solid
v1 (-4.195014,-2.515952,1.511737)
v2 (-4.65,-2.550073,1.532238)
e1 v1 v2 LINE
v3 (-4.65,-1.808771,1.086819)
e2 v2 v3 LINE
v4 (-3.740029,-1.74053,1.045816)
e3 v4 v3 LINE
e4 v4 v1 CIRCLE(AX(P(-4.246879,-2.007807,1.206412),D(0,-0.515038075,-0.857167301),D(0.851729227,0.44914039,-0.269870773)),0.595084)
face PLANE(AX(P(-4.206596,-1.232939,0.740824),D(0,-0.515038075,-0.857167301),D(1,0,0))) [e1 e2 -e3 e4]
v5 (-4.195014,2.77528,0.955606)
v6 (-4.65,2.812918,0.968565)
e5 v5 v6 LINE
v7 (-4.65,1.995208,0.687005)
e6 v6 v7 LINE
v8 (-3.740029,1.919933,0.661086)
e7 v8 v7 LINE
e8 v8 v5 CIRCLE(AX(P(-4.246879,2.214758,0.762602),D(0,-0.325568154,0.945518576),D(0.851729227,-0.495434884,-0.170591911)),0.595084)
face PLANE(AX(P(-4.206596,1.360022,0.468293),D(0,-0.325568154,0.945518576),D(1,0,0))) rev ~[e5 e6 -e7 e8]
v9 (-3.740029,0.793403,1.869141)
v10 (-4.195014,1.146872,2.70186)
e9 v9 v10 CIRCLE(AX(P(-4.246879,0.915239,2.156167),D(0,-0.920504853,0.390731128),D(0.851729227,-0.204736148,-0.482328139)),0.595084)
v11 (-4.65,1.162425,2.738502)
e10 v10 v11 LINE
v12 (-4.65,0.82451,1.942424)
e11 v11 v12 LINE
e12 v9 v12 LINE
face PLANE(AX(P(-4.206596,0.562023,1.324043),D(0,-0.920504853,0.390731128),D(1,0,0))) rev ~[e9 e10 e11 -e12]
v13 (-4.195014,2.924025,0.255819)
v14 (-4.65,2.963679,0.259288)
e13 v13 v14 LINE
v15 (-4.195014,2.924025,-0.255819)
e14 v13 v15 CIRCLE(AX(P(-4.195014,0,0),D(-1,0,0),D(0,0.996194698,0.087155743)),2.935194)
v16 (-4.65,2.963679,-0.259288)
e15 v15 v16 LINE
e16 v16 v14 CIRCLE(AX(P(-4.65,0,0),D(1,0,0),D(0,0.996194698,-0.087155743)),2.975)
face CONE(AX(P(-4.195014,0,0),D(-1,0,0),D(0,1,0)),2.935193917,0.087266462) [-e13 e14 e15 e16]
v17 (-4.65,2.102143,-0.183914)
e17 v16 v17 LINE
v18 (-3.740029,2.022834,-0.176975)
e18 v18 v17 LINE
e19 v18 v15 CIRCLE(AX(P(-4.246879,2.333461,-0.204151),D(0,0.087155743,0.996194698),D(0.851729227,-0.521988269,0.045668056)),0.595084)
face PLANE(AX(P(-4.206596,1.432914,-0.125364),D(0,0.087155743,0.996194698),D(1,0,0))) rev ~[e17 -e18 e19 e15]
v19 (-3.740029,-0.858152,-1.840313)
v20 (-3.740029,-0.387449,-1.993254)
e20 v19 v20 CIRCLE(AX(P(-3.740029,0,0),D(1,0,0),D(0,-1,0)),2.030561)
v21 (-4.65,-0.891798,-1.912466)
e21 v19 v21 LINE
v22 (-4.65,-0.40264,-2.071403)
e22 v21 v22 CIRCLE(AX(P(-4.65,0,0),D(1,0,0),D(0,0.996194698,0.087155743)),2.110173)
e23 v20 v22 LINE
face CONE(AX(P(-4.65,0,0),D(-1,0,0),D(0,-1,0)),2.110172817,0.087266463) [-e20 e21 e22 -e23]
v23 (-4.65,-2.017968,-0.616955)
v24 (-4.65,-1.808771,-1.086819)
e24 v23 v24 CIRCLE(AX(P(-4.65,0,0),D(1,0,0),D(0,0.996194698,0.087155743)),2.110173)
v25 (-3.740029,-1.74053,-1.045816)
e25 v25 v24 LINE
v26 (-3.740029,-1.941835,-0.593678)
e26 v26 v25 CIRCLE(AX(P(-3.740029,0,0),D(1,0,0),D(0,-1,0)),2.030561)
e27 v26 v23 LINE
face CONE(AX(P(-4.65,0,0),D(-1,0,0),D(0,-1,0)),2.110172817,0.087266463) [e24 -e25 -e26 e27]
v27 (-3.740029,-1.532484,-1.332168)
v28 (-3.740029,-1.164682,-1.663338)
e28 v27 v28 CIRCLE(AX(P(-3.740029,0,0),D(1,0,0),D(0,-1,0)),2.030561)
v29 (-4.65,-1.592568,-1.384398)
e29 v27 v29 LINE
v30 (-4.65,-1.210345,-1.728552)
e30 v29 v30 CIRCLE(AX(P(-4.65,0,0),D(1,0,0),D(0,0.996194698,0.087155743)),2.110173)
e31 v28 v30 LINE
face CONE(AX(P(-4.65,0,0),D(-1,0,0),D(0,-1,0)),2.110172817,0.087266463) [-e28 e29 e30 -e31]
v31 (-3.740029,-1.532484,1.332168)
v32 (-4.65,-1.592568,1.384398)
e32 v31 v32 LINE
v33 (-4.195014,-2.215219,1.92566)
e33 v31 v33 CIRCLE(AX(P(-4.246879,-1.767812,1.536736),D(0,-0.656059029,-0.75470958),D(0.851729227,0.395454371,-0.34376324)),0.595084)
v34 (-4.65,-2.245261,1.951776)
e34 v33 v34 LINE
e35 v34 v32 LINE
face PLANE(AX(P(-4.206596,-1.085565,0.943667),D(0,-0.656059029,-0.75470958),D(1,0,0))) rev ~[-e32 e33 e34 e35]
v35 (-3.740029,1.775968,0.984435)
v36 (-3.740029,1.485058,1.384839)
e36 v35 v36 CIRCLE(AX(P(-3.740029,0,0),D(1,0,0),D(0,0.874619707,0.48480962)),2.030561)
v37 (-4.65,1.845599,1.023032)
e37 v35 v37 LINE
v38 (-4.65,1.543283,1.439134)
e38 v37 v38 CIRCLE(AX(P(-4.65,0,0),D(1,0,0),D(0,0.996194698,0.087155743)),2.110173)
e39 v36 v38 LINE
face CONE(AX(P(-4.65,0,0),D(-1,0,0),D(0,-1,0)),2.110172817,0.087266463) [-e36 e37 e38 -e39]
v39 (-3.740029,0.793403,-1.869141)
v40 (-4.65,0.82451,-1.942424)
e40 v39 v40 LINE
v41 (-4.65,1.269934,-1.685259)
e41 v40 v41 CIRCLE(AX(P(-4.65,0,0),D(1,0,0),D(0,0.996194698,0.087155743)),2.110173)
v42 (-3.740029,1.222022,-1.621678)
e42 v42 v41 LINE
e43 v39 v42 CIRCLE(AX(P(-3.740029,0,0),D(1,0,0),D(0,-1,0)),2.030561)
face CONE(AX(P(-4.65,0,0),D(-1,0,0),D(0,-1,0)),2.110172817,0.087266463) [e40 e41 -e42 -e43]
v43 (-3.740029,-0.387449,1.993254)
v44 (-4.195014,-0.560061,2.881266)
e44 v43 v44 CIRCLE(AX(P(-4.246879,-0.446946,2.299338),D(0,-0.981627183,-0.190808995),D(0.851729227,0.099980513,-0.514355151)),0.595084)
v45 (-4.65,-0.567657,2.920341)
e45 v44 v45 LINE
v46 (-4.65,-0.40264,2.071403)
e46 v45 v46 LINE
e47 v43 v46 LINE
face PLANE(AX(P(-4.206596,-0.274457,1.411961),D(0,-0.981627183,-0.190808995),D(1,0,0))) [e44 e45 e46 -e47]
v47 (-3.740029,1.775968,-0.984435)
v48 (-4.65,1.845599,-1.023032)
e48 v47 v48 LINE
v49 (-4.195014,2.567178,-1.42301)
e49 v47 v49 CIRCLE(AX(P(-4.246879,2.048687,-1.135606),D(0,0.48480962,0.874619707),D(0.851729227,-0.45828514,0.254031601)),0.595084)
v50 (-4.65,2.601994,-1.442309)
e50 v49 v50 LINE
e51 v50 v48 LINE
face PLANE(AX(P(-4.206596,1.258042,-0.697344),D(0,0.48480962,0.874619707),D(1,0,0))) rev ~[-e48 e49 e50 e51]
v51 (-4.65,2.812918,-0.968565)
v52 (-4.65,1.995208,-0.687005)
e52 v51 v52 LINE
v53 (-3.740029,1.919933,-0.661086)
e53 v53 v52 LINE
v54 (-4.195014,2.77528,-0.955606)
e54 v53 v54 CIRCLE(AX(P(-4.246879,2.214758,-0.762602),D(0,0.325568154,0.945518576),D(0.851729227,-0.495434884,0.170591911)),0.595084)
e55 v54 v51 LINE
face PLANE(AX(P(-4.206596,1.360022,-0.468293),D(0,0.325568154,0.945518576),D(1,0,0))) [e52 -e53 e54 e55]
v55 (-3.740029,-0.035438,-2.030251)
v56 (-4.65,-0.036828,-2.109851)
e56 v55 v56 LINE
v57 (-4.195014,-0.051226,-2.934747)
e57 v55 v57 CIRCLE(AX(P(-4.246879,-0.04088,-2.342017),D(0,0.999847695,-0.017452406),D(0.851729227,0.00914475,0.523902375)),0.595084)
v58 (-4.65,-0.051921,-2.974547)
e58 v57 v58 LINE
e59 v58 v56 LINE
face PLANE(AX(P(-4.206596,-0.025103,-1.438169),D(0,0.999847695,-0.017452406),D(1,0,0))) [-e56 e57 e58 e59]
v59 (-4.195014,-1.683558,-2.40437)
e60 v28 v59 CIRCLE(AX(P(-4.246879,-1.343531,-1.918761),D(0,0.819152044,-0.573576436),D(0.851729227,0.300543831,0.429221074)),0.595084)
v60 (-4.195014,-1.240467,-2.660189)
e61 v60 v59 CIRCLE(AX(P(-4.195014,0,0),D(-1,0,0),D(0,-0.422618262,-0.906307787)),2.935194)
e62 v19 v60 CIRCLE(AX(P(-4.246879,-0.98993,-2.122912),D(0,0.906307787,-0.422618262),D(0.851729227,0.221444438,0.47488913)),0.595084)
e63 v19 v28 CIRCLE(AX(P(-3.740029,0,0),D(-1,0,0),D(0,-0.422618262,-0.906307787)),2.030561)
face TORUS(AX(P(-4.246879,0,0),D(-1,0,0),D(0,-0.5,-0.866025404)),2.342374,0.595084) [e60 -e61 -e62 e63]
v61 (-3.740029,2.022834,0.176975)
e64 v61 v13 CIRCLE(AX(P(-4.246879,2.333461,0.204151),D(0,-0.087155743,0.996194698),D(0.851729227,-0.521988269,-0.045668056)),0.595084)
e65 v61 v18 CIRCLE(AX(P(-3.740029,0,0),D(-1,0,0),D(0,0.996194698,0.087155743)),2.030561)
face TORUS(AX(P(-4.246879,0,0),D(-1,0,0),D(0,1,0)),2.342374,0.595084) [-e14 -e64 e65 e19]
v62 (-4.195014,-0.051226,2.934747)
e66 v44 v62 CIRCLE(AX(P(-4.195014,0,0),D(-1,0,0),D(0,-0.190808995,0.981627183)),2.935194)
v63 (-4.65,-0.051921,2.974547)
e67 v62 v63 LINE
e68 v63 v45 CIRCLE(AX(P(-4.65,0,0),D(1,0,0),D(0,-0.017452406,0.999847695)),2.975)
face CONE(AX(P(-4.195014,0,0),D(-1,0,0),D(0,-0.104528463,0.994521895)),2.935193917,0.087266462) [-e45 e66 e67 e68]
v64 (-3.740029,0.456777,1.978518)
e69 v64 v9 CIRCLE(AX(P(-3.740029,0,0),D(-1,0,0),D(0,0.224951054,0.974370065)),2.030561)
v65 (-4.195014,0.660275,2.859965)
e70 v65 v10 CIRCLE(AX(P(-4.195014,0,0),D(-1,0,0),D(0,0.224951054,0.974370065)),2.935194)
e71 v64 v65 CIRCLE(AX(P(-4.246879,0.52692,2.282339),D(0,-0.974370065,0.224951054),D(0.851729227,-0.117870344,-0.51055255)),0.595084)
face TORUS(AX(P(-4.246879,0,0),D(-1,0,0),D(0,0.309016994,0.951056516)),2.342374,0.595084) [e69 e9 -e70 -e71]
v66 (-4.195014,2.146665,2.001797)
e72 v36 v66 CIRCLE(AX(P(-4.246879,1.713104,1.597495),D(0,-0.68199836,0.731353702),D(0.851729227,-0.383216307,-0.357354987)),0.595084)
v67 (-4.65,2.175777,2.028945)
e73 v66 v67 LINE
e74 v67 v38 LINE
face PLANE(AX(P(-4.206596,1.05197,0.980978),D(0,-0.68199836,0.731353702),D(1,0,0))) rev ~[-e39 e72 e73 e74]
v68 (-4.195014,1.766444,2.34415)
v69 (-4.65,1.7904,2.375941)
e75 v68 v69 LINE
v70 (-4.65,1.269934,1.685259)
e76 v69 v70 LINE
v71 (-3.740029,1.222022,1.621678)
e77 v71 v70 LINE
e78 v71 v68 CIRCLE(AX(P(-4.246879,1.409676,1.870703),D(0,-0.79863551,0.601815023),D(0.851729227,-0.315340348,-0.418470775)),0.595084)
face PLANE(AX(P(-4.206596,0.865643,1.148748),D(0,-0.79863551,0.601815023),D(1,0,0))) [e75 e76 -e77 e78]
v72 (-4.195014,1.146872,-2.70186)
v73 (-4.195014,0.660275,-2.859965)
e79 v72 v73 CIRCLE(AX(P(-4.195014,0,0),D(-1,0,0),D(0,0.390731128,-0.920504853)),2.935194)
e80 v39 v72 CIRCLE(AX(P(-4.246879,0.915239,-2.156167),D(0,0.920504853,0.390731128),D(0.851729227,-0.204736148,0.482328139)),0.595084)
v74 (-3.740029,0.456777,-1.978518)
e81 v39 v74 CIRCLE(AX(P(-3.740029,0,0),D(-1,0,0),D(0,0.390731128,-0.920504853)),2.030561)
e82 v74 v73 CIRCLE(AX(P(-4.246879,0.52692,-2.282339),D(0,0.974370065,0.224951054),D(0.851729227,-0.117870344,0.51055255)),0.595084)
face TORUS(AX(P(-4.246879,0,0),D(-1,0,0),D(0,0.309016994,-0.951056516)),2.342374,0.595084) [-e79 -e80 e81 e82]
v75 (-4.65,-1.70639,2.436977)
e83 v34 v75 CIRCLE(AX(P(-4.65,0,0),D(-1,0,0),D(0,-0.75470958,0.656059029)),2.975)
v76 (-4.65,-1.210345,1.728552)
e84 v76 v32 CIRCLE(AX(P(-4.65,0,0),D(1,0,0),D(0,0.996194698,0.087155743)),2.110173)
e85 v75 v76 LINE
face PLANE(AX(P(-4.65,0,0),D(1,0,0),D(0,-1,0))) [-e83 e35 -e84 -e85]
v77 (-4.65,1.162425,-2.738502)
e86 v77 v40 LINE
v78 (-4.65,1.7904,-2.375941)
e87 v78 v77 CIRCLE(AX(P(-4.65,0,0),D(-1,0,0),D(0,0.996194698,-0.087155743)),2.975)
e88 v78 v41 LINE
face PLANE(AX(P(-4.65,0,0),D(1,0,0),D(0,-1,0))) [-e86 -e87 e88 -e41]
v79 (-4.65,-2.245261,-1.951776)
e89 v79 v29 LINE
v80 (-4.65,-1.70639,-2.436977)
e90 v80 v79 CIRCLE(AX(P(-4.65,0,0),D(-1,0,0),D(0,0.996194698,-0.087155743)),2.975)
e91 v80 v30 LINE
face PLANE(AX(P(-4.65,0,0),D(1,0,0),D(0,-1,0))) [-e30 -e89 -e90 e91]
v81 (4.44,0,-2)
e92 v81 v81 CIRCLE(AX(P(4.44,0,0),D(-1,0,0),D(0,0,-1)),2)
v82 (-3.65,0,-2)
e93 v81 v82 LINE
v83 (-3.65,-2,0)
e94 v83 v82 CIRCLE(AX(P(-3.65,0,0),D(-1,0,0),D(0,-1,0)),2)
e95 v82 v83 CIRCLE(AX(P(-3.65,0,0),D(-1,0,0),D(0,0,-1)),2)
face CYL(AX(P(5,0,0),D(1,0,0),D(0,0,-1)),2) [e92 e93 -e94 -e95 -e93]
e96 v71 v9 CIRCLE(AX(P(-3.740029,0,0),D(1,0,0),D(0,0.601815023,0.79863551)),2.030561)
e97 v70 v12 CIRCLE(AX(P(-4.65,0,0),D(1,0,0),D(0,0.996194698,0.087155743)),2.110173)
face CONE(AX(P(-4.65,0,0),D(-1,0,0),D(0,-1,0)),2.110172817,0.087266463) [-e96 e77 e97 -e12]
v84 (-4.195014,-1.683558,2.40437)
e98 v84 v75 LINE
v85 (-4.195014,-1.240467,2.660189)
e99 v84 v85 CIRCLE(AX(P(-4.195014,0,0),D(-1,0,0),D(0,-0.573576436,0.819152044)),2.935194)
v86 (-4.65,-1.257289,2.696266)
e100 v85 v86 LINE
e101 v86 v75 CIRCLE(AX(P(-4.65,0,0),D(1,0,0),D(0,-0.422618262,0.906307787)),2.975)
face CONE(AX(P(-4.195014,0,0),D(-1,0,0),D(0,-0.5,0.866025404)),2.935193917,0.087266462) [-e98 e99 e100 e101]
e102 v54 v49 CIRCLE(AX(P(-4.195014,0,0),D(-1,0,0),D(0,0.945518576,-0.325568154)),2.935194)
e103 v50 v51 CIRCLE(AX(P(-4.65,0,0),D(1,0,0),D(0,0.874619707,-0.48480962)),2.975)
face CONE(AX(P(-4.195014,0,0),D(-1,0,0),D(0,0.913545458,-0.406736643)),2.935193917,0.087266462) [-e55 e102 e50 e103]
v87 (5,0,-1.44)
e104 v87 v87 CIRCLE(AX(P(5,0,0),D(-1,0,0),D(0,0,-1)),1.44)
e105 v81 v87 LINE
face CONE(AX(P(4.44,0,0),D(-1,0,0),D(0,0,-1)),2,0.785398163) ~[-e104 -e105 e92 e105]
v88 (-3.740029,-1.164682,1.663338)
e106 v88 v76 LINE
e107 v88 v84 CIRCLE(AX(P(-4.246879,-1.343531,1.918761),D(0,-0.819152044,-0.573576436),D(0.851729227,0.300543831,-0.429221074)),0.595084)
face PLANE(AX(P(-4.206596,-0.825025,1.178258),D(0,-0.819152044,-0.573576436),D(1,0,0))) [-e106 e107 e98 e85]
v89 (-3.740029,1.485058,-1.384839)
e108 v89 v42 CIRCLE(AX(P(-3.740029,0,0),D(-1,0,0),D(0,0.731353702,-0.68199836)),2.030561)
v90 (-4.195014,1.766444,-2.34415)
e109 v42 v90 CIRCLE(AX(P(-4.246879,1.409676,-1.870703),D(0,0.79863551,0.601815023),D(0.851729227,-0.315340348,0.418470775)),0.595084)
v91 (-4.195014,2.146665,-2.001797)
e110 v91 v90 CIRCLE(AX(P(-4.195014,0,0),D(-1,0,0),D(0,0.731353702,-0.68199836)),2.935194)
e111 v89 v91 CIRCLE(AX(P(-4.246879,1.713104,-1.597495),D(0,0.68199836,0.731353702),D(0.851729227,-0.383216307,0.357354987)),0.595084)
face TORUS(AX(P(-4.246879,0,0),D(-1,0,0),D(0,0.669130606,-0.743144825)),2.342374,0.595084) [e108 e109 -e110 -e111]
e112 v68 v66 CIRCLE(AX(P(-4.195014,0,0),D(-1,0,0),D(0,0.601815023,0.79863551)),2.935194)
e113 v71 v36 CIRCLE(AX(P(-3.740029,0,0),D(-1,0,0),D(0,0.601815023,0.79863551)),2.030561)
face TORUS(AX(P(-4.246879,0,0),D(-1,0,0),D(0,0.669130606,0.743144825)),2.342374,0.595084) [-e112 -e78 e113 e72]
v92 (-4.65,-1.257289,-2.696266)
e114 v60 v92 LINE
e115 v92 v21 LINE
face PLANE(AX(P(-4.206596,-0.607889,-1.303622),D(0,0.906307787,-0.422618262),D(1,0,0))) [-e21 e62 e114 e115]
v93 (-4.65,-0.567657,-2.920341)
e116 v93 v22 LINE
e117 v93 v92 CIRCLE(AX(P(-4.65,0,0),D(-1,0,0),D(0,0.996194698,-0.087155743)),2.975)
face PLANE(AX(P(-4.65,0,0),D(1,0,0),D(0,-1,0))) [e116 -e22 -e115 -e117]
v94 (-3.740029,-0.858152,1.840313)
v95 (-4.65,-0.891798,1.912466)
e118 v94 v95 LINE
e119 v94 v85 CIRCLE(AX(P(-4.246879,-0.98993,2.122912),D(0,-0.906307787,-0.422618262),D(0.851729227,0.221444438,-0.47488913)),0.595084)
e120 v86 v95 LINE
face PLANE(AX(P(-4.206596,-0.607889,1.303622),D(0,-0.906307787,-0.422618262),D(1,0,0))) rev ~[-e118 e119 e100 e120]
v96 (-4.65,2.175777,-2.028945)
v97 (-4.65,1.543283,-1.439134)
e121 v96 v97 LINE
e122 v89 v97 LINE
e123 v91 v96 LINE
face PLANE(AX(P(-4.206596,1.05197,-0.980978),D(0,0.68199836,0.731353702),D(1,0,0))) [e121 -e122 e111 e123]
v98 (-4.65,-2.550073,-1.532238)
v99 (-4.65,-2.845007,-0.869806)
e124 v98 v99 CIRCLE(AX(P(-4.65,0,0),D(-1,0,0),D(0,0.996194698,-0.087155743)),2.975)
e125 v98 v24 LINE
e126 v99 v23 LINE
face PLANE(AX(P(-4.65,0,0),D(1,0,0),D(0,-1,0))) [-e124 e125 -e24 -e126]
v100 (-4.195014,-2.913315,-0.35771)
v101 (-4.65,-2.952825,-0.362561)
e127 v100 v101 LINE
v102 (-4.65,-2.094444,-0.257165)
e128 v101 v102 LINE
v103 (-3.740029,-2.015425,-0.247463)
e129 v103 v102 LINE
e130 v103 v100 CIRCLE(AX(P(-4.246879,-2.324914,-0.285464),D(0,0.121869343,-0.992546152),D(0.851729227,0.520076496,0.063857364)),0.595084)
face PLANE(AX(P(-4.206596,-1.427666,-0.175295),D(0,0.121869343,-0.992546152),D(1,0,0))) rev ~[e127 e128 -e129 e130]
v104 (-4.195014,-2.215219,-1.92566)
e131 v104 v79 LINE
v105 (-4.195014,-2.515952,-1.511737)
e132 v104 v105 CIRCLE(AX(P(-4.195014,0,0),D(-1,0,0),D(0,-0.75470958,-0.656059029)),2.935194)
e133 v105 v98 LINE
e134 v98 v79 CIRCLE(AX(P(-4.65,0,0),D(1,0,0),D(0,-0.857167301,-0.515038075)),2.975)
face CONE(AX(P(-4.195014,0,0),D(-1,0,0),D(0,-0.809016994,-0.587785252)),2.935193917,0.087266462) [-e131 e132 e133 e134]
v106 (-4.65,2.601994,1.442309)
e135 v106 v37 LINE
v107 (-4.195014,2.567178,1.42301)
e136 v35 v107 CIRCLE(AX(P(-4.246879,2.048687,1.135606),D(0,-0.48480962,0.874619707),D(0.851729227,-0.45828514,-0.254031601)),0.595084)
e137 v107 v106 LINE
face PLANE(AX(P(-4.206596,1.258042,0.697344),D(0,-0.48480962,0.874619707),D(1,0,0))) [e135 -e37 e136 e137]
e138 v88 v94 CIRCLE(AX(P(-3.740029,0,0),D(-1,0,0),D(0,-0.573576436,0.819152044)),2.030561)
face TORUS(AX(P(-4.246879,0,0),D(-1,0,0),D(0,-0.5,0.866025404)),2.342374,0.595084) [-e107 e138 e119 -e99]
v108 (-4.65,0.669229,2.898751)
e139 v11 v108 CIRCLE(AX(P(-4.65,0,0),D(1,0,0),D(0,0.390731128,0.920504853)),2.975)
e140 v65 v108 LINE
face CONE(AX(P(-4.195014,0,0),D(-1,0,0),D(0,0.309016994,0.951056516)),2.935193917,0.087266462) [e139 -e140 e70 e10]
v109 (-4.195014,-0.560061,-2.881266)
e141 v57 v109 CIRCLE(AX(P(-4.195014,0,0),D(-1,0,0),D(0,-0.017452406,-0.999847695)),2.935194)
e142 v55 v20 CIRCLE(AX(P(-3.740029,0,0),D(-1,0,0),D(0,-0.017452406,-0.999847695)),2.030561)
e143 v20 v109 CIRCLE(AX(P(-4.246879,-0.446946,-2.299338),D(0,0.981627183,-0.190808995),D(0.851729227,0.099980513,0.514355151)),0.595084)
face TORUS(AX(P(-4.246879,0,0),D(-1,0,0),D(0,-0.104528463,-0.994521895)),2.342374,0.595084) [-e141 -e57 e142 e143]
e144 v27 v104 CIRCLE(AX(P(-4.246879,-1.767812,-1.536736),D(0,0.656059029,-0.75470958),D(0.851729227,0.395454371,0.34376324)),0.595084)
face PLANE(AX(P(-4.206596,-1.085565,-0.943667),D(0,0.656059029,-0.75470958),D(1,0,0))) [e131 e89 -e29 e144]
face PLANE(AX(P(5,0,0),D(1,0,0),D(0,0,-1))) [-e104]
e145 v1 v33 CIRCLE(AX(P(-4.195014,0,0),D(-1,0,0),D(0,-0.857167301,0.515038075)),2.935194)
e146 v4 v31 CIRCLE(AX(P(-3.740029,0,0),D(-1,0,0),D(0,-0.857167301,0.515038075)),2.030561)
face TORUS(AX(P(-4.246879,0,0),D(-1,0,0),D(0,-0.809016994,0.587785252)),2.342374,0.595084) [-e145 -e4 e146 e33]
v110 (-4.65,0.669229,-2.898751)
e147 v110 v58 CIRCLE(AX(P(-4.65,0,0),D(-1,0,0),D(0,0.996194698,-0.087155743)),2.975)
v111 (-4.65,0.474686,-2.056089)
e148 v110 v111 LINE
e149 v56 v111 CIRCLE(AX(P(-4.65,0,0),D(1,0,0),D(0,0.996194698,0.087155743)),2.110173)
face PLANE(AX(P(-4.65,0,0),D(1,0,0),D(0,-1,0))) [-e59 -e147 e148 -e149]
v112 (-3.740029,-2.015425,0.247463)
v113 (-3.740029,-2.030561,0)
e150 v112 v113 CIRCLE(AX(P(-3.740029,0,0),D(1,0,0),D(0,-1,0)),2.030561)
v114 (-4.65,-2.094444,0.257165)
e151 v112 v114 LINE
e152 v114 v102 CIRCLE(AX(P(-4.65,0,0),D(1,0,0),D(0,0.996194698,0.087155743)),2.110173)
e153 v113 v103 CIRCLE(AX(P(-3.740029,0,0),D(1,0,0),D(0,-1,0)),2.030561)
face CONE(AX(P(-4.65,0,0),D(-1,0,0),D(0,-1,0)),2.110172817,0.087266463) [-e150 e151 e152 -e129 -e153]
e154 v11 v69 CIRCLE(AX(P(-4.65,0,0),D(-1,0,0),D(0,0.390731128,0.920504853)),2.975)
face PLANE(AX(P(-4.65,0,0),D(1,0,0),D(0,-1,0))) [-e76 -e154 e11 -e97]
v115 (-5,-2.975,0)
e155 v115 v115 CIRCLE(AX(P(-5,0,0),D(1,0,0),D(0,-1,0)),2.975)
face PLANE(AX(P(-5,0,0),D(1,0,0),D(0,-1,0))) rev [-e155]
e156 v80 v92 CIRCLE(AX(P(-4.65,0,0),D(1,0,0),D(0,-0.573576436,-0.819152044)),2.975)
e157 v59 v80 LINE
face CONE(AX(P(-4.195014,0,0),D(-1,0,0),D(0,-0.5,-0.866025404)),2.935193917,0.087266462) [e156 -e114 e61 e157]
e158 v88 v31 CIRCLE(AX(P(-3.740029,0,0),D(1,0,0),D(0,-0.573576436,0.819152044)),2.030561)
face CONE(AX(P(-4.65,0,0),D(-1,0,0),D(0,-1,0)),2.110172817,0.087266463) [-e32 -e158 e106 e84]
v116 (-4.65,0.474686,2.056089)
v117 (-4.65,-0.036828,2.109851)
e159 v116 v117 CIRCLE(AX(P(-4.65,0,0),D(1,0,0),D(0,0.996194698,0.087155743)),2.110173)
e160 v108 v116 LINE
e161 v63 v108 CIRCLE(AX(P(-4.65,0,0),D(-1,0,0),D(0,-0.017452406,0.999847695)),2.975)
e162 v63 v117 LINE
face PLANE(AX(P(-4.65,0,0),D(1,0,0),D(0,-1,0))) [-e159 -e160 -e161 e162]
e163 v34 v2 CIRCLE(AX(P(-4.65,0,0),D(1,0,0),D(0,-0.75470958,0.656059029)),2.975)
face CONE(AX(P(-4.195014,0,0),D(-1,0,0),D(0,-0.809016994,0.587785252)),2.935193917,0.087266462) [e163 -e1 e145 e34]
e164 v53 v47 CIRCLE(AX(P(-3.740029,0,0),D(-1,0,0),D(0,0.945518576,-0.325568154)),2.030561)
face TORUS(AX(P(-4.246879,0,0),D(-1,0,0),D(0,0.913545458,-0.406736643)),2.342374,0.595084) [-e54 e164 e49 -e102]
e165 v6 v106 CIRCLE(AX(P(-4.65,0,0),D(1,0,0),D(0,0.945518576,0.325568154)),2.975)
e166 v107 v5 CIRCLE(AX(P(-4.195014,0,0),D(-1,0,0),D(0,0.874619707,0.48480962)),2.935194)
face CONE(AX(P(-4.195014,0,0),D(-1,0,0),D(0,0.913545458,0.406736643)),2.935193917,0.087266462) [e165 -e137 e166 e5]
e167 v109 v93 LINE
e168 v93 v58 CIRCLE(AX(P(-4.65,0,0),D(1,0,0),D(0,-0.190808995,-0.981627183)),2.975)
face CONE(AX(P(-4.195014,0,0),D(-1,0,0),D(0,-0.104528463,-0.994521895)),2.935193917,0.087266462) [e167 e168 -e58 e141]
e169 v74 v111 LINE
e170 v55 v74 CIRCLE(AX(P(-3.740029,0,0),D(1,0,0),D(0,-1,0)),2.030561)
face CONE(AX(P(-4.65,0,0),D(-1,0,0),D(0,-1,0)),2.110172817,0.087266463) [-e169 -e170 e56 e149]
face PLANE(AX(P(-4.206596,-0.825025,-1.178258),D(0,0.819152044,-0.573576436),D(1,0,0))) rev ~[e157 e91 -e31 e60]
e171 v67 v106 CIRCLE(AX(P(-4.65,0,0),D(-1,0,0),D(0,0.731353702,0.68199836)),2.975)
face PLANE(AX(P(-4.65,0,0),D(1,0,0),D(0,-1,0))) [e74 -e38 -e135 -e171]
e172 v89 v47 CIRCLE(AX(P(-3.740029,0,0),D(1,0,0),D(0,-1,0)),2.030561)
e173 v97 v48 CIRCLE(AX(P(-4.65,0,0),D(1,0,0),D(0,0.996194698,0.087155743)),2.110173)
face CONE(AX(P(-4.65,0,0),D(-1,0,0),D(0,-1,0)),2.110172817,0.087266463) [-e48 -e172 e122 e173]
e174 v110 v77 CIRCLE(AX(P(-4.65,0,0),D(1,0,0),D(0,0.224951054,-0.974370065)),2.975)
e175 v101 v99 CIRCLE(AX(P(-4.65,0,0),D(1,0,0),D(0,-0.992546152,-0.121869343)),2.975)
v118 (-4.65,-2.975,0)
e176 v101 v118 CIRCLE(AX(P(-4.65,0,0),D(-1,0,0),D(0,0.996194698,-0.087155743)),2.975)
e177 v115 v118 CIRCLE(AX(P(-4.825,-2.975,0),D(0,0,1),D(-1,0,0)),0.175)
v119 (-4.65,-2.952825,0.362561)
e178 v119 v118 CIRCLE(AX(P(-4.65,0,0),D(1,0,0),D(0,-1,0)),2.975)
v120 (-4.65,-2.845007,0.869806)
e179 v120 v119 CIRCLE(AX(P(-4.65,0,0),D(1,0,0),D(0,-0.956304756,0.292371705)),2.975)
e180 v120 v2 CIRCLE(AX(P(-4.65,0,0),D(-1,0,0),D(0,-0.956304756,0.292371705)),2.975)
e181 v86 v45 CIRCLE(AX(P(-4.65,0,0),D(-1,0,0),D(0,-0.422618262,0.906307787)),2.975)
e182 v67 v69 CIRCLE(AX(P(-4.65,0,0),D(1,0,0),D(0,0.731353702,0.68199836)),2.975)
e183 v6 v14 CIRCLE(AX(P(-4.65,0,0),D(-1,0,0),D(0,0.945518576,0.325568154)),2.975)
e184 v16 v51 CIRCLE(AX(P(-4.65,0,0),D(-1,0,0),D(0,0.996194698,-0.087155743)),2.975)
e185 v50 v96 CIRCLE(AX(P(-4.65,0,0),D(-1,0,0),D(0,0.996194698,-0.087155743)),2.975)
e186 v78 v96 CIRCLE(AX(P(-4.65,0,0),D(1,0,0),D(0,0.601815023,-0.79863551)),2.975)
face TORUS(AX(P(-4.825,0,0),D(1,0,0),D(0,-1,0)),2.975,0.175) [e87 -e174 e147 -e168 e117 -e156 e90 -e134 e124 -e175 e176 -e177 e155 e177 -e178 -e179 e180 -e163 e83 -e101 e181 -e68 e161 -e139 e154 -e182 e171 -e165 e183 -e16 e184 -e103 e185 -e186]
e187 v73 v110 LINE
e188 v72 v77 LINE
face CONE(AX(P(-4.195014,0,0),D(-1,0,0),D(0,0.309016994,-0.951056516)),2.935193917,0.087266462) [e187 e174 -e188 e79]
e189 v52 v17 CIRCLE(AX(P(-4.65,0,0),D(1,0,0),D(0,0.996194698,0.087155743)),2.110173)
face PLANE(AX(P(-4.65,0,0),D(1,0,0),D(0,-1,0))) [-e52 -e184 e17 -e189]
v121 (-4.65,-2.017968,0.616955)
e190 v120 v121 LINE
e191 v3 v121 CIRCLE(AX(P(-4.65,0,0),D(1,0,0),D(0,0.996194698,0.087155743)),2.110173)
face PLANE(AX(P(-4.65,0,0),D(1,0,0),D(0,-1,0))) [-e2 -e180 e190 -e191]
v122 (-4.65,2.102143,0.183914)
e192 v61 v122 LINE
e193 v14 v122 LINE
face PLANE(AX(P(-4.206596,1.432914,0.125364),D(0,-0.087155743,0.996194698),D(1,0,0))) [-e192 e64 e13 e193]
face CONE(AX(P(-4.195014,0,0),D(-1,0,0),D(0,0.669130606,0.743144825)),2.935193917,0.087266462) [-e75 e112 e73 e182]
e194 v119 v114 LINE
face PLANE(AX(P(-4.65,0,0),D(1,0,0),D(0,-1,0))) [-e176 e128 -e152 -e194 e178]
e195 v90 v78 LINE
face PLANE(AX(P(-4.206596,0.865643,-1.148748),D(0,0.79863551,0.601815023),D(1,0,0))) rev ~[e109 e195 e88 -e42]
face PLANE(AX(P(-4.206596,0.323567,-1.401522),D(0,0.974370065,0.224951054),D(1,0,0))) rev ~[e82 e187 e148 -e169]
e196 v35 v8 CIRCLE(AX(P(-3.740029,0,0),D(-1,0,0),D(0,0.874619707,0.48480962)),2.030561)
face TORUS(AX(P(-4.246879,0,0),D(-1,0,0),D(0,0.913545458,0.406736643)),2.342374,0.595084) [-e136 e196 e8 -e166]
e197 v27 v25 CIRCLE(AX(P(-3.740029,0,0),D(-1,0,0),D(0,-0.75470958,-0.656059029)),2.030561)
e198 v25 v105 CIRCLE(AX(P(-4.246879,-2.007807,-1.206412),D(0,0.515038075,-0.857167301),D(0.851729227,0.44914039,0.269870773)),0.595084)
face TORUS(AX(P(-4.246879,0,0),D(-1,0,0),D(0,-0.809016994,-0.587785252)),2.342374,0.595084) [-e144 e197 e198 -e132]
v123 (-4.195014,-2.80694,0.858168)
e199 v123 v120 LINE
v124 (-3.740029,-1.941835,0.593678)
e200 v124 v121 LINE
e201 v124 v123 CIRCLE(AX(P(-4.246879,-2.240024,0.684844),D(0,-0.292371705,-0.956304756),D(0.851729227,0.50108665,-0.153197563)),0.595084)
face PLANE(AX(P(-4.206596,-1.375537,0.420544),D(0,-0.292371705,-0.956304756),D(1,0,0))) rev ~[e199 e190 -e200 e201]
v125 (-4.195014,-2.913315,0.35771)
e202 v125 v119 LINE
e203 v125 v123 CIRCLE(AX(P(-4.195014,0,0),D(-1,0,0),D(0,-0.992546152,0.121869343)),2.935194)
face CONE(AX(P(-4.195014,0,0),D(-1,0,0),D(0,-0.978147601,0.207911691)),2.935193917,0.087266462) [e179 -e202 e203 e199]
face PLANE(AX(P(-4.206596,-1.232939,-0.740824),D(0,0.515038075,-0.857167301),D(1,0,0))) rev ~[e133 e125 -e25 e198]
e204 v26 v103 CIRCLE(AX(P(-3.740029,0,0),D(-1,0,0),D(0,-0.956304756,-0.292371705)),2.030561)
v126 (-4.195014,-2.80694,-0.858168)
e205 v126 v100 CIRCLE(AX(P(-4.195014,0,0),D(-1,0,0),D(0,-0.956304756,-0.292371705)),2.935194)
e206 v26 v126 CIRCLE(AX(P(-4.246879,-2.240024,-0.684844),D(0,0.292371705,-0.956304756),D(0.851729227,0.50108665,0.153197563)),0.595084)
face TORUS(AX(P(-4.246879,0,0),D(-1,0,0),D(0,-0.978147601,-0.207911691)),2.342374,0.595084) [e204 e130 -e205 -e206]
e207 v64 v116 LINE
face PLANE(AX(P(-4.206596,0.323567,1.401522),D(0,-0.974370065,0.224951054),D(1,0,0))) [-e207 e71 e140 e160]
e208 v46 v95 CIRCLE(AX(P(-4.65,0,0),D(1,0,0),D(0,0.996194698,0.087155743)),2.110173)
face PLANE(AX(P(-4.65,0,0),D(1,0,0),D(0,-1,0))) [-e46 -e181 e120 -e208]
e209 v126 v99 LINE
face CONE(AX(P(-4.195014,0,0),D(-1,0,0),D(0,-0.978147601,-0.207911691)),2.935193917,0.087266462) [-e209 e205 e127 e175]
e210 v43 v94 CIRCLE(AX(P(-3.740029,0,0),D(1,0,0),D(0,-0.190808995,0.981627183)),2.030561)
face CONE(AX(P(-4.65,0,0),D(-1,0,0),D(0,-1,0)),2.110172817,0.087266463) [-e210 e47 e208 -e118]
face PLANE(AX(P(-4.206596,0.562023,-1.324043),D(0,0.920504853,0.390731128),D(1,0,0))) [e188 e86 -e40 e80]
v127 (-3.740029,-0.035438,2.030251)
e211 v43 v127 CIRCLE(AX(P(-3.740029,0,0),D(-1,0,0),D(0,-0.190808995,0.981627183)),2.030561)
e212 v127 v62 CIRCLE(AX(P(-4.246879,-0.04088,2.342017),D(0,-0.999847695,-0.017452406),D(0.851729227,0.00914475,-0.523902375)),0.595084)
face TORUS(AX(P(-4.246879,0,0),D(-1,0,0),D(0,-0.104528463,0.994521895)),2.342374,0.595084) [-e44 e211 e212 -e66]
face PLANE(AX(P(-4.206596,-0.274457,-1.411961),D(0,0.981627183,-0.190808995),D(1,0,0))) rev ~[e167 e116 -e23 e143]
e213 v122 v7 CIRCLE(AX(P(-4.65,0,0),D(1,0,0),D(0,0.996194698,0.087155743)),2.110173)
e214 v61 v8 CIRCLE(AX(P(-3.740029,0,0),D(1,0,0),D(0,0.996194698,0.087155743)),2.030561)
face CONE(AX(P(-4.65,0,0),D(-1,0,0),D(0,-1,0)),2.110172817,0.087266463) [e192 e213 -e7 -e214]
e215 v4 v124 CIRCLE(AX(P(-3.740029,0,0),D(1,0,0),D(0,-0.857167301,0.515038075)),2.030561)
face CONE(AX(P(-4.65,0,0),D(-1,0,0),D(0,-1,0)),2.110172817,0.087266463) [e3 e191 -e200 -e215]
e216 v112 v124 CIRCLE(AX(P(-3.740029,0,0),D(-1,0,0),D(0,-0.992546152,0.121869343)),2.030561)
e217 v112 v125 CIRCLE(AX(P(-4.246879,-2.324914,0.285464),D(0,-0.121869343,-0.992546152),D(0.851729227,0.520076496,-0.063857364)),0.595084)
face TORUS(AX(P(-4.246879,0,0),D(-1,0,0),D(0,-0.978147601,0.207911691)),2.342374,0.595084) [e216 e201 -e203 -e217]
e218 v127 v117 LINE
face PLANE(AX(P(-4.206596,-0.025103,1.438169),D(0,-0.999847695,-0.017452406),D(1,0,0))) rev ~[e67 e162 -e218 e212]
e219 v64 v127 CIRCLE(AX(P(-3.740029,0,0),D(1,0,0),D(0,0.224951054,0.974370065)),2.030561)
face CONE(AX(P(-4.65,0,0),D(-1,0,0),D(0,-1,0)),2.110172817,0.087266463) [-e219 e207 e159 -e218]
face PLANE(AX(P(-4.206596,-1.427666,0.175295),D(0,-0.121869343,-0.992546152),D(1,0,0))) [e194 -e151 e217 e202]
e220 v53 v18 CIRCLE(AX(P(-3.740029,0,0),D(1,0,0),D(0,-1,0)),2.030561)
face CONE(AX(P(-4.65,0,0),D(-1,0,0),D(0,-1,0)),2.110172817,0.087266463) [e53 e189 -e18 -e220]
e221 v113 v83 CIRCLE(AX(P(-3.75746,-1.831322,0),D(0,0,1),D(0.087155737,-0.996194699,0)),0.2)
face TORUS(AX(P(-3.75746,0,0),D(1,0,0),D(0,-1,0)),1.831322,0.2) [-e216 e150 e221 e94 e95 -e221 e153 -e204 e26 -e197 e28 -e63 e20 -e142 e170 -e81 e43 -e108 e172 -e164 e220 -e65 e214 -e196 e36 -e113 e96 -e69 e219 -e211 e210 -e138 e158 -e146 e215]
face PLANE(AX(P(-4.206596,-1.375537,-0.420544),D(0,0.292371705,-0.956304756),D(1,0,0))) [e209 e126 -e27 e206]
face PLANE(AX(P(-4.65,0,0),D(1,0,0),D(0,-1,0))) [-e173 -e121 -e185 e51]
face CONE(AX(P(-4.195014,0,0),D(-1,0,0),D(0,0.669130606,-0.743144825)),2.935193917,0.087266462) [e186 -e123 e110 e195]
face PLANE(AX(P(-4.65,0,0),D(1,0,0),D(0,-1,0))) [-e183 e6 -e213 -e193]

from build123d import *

# Parameters (mm, degrees)
BOSS_EXTRUDE1_START = 5
SKETCH2_R           = 2
BOSS_EXTRUDE1_DEPTH = 10
REVOLVE2_ANGLE      = 10
CIRPATTERN1_COUNT   = 15
CHAMFER1_SIZE       = 0.56


with BuildPart() as part:
    # Sketch2 → Boss-Extrude1 (new body)
    with BuildSketch(Plane(origin=(0, 0, 0), x_dir=(0, 0, -1), z_dir=(1, 0, 0)).offset(BOSS_EXTRUDE1_START)):
        Circle(SKETCH2_R)
    extrude(amount=-BOSS_EXTRUDE1_DEPTH)

    # Sketch5 → Revolve1 (revolve)
    with BuildSketch(Plane.XY, mode=Mode.PRIVATE) as revolve1_sk:
        with BuildLine():
            Line((-5, 0), (-5, 2.975))
            ThreePointArc((-5, 2.975), (-4.825, 3.15), (-4.65, 2.975))
            Line((-4.65, 2.975), (-4.65, 2.110172817))
            Line((-4.65, 2.110172817), (-3.740028773, 2.03056065))
            ThreePointArc((-3.740028773, 2.03056065), (-3.65, 2), (-3.584254841, 1.931321711))
            Line((-3.584254841, 1.931321711), (-2.469205731, 0))
            Line((-2.469205731, 0), (-5, 0))
        make_face()
    revolve(revolve1_sk.sketch.rotate(Axis((-5, 0, 0), (1, 0, 0)), 180), axis=Axis((-5, 0, 0), (1, 0, 0)))

    # Sketch6 → Revolve2 (revolve, symmetric)
    with BuildSketch(Plane.XY) as revolve2_sk:
        with BuildLine():
            Line((-4.65, 2.975), (-4.65, 0))
            Line((-4.65, 0), (-3.740028773, 0))
            Line((-3.740028773, 0), (-3.740028773, 2.03056065))
            ThreePointArc((-3.740028773, 2.03056065), (-3.715248765, 2.609757983), (-4.195014387, 2.935193917))
            Line((-4.195014387, 2.935193917), (-4.65, 2.975))
        make_face()
    revolve(axis=Axis((-4.65, 0, 0), (1, 0, 0)), revolution_arc=REVOLVE2_ANGLE / 2)
    revolve(revolve2_sk.sketch, axis=Axis((-4.65, 0, 0), (-1, 0, 0)), revolution_arc=REVOLVE2_ANGLE / 2)

    # CirPattern1: part ×15 about axis
    cirpattern1_axis = Axis((0, 0, 0), (1, 0, 0))


with BuildPart() as part_1:
    add(part.part)
    for i in range(1, CIRPATTERN1_COUNT):
        add(part.part.rotate(cirpattern1_axis, i * 360 / CIRPATTERN1_COUNT))

    # Chamfer1
    chamfer1_edges = [part_1.edges().sort_by_distance(p)[0] for p in [
        (5, 0, 2),
    ]]
    chamfer(chamfer1_edges, length=CHAMFER1_SIZE)


solid = part_1.part
